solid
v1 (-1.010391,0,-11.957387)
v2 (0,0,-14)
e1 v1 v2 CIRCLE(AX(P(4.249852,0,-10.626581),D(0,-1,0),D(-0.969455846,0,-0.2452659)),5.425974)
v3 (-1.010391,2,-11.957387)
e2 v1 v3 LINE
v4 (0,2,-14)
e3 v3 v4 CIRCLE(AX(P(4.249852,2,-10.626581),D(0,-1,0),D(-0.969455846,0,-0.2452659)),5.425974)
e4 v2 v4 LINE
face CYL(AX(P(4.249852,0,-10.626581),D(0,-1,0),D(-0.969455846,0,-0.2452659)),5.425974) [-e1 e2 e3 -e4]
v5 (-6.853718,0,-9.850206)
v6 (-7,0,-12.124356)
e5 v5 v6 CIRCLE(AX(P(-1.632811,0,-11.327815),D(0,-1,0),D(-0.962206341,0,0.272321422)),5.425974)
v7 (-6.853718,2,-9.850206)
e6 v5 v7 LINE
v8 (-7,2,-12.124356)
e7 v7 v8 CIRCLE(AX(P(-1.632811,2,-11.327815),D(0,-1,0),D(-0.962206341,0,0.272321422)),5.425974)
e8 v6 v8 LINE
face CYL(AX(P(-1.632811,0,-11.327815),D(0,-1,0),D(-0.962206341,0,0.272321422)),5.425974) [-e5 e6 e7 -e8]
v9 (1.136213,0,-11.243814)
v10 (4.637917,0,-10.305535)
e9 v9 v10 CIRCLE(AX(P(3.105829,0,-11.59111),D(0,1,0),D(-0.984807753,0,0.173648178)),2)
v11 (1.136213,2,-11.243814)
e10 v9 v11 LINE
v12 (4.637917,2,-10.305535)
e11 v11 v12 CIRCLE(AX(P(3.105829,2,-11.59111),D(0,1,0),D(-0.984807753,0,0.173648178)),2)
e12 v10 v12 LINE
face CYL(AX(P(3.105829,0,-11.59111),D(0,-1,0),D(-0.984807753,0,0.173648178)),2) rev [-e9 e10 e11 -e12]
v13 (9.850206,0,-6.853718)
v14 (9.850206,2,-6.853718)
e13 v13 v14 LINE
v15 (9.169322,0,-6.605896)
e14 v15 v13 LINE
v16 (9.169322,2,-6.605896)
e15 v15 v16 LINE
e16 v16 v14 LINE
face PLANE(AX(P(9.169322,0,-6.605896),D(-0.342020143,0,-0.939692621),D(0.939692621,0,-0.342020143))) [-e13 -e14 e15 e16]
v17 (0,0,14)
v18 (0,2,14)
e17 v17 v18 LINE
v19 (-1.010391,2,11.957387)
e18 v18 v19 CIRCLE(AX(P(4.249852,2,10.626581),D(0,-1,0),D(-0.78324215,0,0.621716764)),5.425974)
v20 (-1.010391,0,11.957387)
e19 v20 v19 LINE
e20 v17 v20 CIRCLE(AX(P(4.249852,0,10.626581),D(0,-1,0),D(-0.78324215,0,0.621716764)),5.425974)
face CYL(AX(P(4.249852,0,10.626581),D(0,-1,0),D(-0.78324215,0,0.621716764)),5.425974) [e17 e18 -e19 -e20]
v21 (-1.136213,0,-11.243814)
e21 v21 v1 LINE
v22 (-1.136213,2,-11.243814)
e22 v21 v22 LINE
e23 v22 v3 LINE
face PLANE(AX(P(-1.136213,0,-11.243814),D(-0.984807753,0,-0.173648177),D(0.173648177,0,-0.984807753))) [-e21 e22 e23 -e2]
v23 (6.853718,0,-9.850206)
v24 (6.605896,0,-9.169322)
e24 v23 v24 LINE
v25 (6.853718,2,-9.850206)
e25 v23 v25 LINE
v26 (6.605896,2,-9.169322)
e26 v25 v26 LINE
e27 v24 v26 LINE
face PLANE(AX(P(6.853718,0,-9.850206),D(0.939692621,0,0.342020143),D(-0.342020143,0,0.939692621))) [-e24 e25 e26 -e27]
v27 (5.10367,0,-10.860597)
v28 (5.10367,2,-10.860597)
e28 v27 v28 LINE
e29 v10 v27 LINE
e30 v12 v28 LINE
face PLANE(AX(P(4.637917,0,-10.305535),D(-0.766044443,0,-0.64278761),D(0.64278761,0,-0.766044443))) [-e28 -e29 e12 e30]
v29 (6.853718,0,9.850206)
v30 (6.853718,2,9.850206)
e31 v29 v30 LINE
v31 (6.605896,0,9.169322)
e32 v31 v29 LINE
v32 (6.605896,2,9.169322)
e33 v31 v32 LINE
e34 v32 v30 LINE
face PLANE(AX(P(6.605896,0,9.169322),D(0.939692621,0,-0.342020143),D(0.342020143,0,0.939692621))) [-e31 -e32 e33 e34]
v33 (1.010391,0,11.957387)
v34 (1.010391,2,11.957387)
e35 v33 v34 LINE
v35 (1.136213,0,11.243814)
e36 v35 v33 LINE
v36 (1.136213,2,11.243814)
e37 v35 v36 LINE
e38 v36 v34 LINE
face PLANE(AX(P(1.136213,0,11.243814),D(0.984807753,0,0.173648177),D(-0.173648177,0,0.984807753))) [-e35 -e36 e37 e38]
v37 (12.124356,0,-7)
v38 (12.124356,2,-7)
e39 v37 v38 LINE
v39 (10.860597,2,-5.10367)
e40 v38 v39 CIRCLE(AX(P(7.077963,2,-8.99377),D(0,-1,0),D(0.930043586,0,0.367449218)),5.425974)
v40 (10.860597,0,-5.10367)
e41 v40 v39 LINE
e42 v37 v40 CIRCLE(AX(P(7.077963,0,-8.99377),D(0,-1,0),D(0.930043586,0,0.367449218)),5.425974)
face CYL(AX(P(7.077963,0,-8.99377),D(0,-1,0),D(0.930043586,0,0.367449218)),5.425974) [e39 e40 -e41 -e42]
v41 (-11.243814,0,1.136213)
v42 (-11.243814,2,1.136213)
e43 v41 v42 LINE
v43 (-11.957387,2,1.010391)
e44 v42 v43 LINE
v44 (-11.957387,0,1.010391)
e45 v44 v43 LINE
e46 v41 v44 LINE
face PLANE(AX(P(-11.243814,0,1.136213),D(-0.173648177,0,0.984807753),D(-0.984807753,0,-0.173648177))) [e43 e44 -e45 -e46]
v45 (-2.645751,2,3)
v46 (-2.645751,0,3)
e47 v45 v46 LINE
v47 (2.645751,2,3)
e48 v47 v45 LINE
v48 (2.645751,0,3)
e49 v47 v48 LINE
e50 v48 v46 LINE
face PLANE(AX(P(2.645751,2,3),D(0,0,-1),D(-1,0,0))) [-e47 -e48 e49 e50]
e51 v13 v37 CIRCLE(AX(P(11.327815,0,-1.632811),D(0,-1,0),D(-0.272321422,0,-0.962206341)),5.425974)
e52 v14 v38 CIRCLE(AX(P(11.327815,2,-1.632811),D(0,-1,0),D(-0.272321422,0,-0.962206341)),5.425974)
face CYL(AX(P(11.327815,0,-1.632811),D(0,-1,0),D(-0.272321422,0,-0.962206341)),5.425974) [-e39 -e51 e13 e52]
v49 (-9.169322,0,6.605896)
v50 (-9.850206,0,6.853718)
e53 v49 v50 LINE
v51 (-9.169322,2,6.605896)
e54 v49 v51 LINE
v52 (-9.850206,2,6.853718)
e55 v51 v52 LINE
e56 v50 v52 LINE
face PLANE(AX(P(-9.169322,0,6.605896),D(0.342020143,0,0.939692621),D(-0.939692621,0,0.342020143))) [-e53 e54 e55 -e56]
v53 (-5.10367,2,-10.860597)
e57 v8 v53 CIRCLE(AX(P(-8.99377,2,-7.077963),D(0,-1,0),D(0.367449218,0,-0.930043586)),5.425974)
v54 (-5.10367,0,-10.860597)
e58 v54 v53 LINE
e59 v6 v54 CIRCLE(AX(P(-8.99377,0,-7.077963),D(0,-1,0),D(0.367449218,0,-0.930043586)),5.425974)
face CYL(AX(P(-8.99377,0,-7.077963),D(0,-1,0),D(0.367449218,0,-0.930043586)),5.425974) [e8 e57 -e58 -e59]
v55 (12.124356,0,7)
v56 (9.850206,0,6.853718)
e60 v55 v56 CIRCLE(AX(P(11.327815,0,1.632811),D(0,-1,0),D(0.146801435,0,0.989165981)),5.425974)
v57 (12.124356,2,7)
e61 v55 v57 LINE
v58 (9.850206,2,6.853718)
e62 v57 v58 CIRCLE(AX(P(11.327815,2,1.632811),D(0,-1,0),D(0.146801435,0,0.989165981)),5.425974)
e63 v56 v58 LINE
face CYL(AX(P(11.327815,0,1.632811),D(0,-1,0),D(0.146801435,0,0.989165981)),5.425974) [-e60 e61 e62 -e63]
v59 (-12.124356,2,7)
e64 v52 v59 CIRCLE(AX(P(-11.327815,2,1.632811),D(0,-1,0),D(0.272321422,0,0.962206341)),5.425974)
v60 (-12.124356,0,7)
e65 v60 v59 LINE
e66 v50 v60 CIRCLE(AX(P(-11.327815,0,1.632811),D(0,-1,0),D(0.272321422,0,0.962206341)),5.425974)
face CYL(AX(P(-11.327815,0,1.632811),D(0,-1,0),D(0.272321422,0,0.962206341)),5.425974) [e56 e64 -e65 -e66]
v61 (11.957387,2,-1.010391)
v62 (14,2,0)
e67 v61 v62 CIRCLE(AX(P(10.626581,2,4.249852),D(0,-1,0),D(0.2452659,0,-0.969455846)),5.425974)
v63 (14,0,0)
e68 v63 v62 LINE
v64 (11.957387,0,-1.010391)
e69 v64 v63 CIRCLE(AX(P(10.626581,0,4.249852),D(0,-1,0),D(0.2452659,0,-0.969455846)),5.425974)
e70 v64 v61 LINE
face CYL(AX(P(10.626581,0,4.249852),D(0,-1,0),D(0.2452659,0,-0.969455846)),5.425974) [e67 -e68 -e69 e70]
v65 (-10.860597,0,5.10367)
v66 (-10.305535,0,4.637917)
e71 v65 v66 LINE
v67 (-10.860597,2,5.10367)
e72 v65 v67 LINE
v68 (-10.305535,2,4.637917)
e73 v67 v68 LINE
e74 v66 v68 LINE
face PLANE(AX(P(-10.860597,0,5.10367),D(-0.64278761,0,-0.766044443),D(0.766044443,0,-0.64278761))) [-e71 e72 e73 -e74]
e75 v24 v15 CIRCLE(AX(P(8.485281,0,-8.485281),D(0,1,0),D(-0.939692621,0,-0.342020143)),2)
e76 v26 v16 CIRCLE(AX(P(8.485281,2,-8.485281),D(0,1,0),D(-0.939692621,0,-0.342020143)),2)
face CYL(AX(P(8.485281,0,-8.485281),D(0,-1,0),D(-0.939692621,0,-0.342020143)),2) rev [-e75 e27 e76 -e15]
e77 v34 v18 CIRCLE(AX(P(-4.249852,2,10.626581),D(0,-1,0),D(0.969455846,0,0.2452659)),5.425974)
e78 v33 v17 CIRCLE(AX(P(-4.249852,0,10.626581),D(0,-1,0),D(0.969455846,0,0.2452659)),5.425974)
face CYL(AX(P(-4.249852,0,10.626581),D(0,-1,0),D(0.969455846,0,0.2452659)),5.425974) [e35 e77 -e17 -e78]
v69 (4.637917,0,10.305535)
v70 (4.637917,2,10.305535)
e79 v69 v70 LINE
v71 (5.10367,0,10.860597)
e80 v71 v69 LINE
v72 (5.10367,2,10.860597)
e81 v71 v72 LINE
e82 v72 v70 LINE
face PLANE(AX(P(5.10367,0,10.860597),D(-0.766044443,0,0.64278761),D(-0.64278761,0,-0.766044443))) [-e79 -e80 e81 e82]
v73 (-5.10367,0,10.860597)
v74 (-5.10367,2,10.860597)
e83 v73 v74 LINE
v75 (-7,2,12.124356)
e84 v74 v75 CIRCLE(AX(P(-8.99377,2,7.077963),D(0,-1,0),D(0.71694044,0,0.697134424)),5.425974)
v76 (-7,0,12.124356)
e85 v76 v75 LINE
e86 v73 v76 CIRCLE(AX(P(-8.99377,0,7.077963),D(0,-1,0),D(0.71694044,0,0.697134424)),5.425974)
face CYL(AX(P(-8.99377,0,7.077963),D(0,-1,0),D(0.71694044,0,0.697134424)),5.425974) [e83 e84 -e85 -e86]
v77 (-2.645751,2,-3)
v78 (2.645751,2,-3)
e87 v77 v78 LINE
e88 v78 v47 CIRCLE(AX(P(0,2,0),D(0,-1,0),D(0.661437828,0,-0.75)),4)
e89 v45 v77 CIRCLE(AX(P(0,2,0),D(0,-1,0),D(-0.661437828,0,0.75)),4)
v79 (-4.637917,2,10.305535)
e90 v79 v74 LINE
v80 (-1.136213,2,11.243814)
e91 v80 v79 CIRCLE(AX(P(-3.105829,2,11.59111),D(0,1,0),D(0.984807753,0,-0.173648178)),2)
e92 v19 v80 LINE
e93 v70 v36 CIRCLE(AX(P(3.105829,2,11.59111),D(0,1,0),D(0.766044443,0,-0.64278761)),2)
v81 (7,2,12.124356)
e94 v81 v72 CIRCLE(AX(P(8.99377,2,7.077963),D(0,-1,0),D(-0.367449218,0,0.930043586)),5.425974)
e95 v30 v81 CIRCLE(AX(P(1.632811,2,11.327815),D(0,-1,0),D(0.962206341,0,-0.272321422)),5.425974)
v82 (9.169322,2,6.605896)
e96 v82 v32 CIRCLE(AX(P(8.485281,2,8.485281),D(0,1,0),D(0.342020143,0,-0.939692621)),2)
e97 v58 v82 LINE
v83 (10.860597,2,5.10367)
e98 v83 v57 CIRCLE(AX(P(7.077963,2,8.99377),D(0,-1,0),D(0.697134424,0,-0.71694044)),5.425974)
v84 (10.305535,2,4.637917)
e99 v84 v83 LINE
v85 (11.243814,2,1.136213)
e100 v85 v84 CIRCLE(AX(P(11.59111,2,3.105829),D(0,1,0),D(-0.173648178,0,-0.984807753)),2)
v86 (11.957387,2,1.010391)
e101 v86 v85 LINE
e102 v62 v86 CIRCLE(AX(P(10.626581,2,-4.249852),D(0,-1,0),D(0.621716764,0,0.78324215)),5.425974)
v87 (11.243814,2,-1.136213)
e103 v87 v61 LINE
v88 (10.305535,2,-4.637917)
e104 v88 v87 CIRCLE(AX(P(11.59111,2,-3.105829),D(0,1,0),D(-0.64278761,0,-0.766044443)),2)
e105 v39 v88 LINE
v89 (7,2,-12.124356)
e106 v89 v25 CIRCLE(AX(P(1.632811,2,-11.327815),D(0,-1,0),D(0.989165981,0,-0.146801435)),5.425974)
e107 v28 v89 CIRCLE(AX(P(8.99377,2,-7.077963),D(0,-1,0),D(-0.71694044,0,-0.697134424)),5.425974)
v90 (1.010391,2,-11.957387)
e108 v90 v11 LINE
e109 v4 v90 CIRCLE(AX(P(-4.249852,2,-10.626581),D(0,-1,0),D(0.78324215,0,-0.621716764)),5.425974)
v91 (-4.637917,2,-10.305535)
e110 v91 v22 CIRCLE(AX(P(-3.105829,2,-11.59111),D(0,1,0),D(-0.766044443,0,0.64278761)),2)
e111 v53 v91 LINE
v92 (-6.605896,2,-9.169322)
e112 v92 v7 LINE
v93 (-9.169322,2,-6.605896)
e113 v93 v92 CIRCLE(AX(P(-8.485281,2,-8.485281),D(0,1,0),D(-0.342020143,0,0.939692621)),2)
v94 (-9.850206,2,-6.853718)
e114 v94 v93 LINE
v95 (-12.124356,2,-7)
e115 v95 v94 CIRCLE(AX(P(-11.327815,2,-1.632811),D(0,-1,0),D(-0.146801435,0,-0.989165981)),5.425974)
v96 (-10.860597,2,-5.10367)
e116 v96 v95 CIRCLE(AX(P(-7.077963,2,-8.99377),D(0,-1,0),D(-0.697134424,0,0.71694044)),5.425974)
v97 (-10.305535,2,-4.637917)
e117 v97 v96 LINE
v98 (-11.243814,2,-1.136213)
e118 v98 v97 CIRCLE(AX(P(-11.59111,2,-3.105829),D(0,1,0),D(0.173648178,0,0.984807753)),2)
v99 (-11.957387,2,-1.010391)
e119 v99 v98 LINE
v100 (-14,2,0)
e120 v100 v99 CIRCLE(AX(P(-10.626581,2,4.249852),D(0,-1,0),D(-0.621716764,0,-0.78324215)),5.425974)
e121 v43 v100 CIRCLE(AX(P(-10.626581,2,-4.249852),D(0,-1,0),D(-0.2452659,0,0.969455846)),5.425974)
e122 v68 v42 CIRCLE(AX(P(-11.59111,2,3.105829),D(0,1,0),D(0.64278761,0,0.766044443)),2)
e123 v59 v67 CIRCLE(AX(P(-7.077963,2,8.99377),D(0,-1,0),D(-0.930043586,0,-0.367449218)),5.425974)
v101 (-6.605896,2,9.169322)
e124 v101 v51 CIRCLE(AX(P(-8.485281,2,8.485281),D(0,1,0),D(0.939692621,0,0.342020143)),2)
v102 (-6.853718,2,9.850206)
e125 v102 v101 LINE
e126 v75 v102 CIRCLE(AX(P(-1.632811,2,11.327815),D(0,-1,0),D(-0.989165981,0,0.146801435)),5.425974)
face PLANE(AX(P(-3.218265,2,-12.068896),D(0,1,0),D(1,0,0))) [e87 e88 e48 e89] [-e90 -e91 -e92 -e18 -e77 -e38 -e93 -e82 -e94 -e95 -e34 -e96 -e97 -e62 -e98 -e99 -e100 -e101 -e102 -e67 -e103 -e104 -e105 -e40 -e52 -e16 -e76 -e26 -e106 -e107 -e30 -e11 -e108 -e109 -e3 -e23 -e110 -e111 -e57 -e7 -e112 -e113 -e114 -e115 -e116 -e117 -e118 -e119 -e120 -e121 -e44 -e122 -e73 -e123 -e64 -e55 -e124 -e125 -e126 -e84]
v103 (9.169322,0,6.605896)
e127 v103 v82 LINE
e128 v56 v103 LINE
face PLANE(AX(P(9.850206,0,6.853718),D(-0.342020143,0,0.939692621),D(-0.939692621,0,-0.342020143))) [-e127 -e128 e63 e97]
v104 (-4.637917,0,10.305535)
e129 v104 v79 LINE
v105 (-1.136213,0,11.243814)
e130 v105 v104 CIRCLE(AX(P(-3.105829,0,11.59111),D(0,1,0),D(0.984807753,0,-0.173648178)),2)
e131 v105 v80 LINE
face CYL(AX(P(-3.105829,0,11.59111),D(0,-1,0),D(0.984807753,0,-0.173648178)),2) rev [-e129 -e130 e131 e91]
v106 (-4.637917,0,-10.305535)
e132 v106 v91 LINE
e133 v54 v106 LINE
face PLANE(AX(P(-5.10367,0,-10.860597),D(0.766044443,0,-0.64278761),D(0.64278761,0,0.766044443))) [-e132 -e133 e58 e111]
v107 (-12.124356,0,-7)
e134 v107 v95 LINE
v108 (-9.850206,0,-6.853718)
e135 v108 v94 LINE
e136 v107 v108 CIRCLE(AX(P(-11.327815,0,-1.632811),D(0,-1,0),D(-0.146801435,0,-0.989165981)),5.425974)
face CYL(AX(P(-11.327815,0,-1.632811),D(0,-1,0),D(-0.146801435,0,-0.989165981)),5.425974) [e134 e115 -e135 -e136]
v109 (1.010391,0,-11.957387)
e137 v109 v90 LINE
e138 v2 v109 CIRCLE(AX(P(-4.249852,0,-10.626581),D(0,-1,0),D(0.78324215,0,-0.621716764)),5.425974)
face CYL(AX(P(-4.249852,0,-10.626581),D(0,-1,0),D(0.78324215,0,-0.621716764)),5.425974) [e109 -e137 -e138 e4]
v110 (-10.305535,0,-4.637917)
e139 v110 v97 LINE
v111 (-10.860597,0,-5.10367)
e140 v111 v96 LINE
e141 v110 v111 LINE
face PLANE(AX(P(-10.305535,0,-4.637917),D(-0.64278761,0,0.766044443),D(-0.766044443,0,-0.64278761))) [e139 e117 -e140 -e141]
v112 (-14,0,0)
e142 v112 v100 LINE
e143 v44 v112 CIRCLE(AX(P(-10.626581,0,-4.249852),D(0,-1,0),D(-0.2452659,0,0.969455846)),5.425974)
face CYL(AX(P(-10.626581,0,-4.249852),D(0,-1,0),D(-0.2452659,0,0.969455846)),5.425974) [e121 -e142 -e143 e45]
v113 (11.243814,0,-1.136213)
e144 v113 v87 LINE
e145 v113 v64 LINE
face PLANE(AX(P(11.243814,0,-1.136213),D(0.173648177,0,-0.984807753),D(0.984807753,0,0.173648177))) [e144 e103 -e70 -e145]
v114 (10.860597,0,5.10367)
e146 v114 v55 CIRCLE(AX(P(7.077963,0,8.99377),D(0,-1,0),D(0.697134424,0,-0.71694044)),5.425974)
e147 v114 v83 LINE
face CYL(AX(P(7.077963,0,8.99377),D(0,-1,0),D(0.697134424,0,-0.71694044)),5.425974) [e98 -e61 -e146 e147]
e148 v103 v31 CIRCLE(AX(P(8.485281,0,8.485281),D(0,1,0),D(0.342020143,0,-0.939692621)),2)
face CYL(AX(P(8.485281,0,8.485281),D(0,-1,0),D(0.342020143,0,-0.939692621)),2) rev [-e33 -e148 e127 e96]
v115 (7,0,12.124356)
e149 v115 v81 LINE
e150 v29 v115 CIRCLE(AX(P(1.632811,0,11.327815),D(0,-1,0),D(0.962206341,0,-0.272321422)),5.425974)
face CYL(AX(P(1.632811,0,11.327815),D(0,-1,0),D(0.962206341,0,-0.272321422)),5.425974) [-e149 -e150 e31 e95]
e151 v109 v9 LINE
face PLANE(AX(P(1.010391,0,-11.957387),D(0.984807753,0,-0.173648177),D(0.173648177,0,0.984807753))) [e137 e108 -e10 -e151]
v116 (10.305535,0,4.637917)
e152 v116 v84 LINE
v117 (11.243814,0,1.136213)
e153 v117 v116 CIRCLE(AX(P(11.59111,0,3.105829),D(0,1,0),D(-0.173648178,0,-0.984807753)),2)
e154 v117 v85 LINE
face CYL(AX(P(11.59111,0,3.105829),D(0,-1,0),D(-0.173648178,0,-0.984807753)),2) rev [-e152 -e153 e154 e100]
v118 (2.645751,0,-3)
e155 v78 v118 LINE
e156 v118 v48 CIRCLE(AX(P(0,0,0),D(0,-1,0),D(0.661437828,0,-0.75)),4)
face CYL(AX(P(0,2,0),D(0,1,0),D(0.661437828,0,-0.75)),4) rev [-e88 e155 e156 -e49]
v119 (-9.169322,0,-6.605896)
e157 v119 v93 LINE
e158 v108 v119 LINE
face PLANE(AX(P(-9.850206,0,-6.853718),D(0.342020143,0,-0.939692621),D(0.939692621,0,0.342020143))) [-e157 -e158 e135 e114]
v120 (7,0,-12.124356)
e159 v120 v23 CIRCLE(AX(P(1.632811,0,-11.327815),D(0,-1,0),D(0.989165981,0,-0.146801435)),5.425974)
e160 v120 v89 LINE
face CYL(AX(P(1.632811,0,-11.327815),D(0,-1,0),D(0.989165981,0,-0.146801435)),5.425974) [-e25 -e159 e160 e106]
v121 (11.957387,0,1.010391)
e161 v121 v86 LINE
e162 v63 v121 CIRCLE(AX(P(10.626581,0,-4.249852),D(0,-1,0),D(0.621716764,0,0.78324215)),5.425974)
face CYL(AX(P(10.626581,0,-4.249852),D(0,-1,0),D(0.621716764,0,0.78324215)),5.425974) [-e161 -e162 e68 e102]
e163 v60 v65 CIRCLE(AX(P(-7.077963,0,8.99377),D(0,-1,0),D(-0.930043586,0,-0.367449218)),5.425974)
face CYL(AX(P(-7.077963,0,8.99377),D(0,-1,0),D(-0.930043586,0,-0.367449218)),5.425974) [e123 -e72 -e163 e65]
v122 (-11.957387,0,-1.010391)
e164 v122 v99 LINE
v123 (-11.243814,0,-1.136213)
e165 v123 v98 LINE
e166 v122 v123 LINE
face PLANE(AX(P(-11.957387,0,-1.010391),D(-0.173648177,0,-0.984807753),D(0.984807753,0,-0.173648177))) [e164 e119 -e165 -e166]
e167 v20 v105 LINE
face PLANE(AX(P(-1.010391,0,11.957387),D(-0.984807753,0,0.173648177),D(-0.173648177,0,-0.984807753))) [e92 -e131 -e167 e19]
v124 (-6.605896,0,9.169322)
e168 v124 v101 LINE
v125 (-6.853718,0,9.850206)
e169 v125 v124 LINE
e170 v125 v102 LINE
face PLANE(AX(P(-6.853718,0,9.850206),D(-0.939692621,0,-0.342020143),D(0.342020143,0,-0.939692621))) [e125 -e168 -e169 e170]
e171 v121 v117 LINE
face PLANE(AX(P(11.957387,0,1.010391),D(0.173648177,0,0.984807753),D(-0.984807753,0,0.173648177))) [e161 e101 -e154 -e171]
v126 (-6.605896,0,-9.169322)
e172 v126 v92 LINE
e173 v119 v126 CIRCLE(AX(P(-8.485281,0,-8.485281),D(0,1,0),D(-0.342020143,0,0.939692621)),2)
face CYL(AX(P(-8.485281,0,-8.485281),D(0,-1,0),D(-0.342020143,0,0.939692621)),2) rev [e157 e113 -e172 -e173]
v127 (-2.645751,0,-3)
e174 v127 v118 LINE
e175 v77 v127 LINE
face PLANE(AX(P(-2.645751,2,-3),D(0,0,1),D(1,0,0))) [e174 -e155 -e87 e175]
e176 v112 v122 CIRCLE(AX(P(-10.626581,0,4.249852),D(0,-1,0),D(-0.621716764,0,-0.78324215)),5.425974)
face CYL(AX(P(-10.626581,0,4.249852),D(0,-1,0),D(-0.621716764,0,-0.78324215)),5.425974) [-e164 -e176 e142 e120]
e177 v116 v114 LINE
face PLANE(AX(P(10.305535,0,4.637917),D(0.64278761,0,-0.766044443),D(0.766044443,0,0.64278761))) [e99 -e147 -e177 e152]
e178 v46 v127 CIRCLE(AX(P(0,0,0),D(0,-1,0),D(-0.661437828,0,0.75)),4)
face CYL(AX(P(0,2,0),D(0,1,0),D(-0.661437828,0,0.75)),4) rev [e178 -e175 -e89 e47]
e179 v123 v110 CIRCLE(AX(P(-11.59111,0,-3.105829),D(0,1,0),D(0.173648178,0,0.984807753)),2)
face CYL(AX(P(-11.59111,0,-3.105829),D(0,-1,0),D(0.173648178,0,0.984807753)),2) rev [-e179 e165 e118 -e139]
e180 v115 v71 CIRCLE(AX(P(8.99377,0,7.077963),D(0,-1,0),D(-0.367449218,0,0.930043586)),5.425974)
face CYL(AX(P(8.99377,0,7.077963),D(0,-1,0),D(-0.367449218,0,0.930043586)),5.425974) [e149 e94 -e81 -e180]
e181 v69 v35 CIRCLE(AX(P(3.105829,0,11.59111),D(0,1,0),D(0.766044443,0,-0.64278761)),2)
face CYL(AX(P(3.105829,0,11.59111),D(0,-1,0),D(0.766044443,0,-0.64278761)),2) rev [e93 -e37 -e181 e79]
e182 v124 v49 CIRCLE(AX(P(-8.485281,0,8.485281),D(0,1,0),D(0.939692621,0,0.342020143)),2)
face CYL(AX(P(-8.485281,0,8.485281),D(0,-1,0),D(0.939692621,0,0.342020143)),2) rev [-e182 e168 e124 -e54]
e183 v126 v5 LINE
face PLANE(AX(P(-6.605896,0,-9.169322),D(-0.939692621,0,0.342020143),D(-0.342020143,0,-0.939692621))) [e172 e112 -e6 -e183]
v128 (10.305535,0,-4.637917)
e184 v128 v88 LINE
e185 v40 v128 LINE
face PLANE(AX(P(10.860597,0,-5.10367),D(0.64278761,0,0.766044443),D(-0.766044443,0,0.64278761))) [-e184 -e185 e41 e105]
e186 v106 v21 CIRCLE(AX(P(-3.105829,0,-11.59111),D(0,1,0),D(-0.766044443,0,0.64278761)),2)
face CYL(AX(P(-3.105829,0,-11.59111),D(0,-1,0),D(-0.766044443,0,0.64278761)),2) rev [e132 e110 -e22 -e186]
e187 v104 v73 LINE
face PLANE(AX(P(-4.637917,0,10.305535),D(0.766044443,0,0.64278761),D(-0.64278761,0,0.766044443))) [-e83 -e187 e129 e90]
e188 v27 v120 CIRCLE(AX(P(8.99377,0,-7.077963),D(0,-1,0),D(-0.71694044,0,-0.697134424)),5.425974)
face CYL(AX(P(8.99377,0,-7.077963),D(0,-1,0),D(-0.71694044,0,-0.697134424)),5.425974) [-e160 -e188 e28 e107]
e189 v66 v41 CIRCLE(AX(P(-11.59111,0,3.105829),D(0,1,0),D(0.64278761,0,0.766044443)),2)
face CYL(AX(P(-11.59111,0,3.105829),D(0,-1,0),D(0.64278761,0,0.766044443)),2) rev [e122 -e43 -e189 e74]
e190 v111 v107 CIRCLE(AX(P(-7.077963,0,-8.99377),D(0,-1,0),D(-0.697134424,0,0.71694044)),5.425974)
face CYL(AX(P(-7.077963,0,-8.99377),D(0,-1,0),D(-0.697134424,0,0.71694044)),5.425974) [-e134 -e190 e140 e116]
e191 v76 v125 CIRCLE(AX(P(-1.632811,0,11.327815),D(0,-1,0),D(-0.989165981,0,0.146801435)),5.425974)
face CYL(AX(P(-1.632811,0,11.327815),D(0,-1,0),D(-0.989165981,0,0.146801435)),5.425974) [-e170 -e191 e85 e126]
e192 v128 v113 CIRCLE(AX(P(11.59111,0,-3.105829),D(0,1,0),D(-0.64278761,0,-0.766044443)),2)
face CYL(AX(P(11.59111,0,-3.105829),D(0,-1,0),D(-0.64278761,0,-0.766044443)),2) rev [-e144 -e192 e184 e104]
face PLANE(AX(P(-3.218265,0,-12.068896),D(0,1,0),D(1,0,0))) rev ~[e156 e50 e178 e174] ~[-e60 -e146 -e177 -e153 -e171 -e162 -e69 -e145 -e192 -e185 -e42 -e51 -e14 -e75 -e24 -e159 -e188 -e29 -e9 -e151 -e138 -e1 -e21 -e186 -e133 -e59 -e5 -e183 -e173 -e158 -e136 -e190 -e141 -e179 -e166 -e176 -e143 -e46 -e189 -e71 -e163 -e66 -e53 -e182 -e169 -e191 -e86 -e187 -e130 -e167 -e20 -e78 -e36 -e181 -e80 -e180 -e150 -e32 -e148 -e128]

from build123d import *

# Parameters (mm, degrees)
SKETCH1_R           = 10
BOSS_EXTRUDE3_DEPTH = 2
CUT_EXTRUDE4_START  = -2
CUT_EXTRUDE4_DEPTH  = 2
CUT_EXTRUDE5_DEPTH  = 2
CUT_EXTRUDE7_START  = -2
CUT_EXTRUDE7_DEPTH  = 2


with BuildPart() as part:
    # Sketch1 → Boss-Extrude3 (new body)
    # profile 1 of 3: a face of its own
    with BuildSketch(Plane(origin=(0, 0, 0), x_dir=(1, 0, 0), z_dir=(0, 1, 0))):
        with BuildLine():
            ThreePointArc((-2.576546391, 9.66237076), (-3.696714803, 9.688501423), (-4.6270391, 10.312966622))
            Line((-4.6270391, 10.312966622), (-5.089759275, 10.867122458))
            add(Edge.make_bspline(
                [(-5.089759275, 10.867122458), (-6.64901802, 12.325915574), (-6.970753087, 12.141194398)],
                knots=[0, 0, 0, 1, 1, 1], degree=2, weights=[1, 1.687053572, 1]))
            ThreePointArc((-6.970753087, 12.141194398), (-7.014608214, -12.115909855), (14, 0))
            ThreePointArc((14, 0), (9.899494937, 9.899494937), (0, 14))
            add(Edge.make_bspline(
                [(-0.996876474, 11.958521535), (-0.370992408, 14), (0, 14)],
                knots=[0, 0, 0, 1, 1, 1], degree=2, weights=[1, 1.687053572, 1]))
            Line((-0.996876474, 11.958521535), (-1.122240194, 11.247548548))
            ThreePointArc((-1.122240194, 11.247548548), (-1.618115564, 10.242776114), (-2.576546391, 9.66237076))
        make_face()
        with BuildLine():
            ThreePointArc((10, 0), (-6.092394278, -7.9298633), (-2.576546391, 9.66237076))
            ThreePointArc((-2.576546391, 9.66237076), (6.092394278, 7.9298633), (10, 0))
        make_face(mode=Mode.SUBTRACT)
    # profile 2 of 3: a face of its own
    with BuildSketch(Plane(origin=(0, 0, 0), x_dir=(1, 0, 0), z_dir=(0, 1, 0))):
        Circle(SKETCH1_R)
    # profile 3 of 3: a face of its own
    with BuildSketch(Plane(origin=(0, 0, 0), x_dir=(1, 0, 0), z_dir=(0, 1, 0))):
        with BuildLine():
            Line((-5.089759275, 10.867122458), (-4.6270391, 10.312966622))
            ThreePointArc((-4.6270391, 10.312966622), (-3.696714803, 9.688501423), (-2.576546391, 9.66237076))
            ThreePointArc((-2.576546391, 9.66237076), (-1.618115564, 10.242776114), (-1.122240194, 11.247548548))
            Line((-1.122240194, 11.247548548), (-0.996876474, 11.958521535))
            add(Edge.make_bspline(
                [(-0.996876474, 11.958521535), (-0.370992408, 14), (0, 14)],
                knots=[0, 0, 0, 1, 1, 1], degree=2, weights=[1, 1.687053572, 1]))
            ThreePointArc((0, 14), (-3.607164983, 13.527319054), (-6.970753087, 12.141194398))
            add(Edge.make_bspline(
                [(-5.089759275, 10.867122458), (-6.64901802, 12.325915574), (-6.970753087, 12.141194398)],
                knots=[0, 0, 0, 1, 1, 1], degree=2, weights=[1, 1.687053572, 1]))
        make_face()
    extrude(amount=BOSS_EXTRUDE3_DEPTH)

    # Sketch2 → Cut-Extrude4 (cut)
    with BuildSketch(Plane(origin=(0, 2, 0), x_dir=(1, 0, 0), z_dir=(0, 1, 0)).offset(CUT_EXTRUDE4_START)):
        with BuildLine():
            Line((-1.136213035, 11.24381356), (-1.010390736, 11.95738728))
            ThreePointArc((-1.010390736, 11.95738728), (-0.613638742, 13.032335811), (0, 14))
            ThreePointArc((0, 14), (-3.623466631, 13.522961568), (-7, 12.124355653))
            ThreePointArc((-7, 12.124355653), (-5.984741166, 11.593153253), (-5.103669595, 10.860596515))
            Line((-5.103669595, 10.860596515), (-4.637917427, 10.305534696))
            ThreePointArc((-4.637917427, 10.305534696), (-2.588190451, 9.659258263), (-1.136213035, 11.24381356))
        make_face()
    extrude(amount=CUT_EXTRUDE4_DEPTH, mode=Mode.SUBTRACT)

    # Sketch3 → Cut-Extrude5 (cut)
    with BuildSketch(Plane(origin=(0, 2, 0), x_dir=(1, 0, 0), z_dir=(0, 1, 0))):
        with BuildLine():
            Line((-2.645751311, 3), (2.645751311, 3))
            ThreePointArc((2.645751311, 3), (4, 0), (2.645751311, -3))
            Line((2.645751311, -3), (-2.645751311, -3))
            ThreePointArc((-2.645751311, -3), (-4, 0), (-2.645751311, 3))
        make_face()
    extrude(amount=-CUT_EXTRUDE5_DEPTH, mode=Mode.SUBTRACT)

    # Sketch2<5> → Cut-Extrude7 (cut)
    with BuildSketch(Plane(origin=(0, 2, 0), x_dir=(1, 0, 0), z_dir=(0, 1, 0)).offset(CUT_EXTRUDE7_START)):
        with BuildLine():
            ThreePointArc((7, 12.124355653), (3.623466631, 13.522961568), (0, 14))
            ThreePointArc((0, 14), (0.613638742, 13.032335811), (1.010390736, 11.95738728))
            Line((1.010390736, 11.95738728), (1.136213035, 11.24381356))
            ThreePointArc((1.136213035, 11.24381356), (2.588190451, 9.659258263), (4.637917427, 10.305534696))
            Line((4.637917427, 10.305534696), (5.103669595, 10.860596515))
            ThreePointArc((5.103669595, 10.860596515), (5.984741166, 11.593153253), (7, 12.124355653))
        make_face()
        with BuildLine():
            ThreePointArc((12.124355653, 7), (9.899494937, 9.899494937), (7, 12.124355653))
            ThreePointArc((7, 12.124355653), (7.047594644, 10.979514512), (6.853717685, 9.850205779))
            Line((6.853717685, 9.850205779), (6.605896133, 9.169321661))
            ThreePointArc((6.605896133, 9.169321661), (7.071067812, 7.071067812), (9.169321661, 6.605896133))
            Line((9.169321661, 6.605896133), (9.850205779, 6.853717685))
            ThreePointArc((9.850205779, 6.853717685), (10.979514512, 7.047594644), (12.124355653, 7))
        make_face()
        with BuildLine():
            ThreePointArc((14, 0), (13.522961568, 3.623466631), (12.124355653, 7))
            ThreePointArc((12.124355653, 7), (11.593153253, 5.984741166), (10.860596515, 5.103669595))
            Line((10.860596515, 5.103669595), (10.305534696, 4.637917427))
            ThreePointArc((10.305534696, 4.637917427), (9.659258263, 2.588190451), (11.24381356, 1.136213035))
            Line((11.24381356, 1.136213035), (11.95738728, 1.010390736))
            ThreePointArc((11.95738728, 1.010390736), (13.032335811, 0.613638742), (14, 0))
        make_face()
        with BuildLine():
            ThreePointArc((-6.853717685, 9.850205779), (-7.047594644, 10.979514512), (-7, 12.124355653))
            ThreePointArc((-7, 12.124355653), (-9.899494937, 9.899494937), (-12.124355653, 7))
            ThreePointArc((-12.124355653, 7), (-10.979514512, 7.047594644), (-9.850205779, 6.853717685))
            Line((-9.850205779, 6.853717685), (-9.169321661, 6.605896133))
            ThreePointArc((-9.169321661, 6.605896133), (-7.071067812, 7.071067812), (-6.605896133, 9.169321661))
            Line((-6.605896133, 9.169321661), (-6.853717685, 9.850205779))
        make_face()
        with BuildLine():
            ThreePointArc((12.124355653, -7), (13.522961568, -3.623466631), (14, 0))
            ThreePointArc((14, 0), (13.032335811, -0.613638742), (11.95738728, -1.010390736))
            Line((11.95738728, -1.010390736), (11.24381356, -1.136213035))
            ThreePointArc((11.24381356, -1.136213035), (9.659258263, -2.588190451), (10.305534696, -4.637917427))
            Line((10.305534696, -4.637917427), (10.860596515, -5.103669595))
            ThreePointArc((10.860596515, -5.103669595), (11.593153253, -5.984741166), (12.124355653, -7))
        make_face()
        with BuildLine():
            ThreePointArc((-10.860596515, 5.103669595), (-11.593153253, 5.984741166), (-12.124355653, 7))
            ThreePointArc((-12.124355653, 7), (-13.522961568, 3.623466631), (-14, 0))
            ThreePointArc((-14, 0), (-13.032335811, 0.613638742), (-11.95738728, 1.010390736))
            Line((-11.95738728, 1.010390736), (-11.24381356, 1.136213035))
            ThreePointArc((-11.24381356, 1.136213035), (-9.659258263, 2.588190451), (-10.305534696, 4.637917427))
            Line((-10.305534696, 4.637917427), (-10.860596515, 5.103669595))
        make_face()
        with BuildLine():
            ThreePointArc((7, -12.124355653), (9.899494937, -9.899494937), (12.124355653, -7))
            ThreePointArc((12.124355653, -7), (10.979514512, -7.047594644), (9.850205779, -6.853717685))
            Line((9.850205779, -6.853717685), (9.169321661, -6.605896133))
            ThreePointArc((9.169321661, -6.605896133), (7.071067812, -7.071067812), (6.605896133, -9.169321661))
            Line((6.605896133, -9.169321661), (6.853717685, -9.850205779))
            ThreePointArc((6.853717685, -9.850205779), (7.047594644, -10.979514512), (7, -12.124355653))
        make_face()
        with BuildLine():
            ThreePointArc((-11.95738728, -1.010390736), (-13.032335811, -0.613638742), (-14, 0))
            ThreePointArc((-14, 0), (-13.522961568, -3.623466631), (-12.124355653, -7))
            ThreePointArc((-12.124355653, -7), (-11.593153253, -5.984741166), (-10.860596515, -5.103669595))
            Line((-10.860596515, -5.103669595), (-10.305534696, -4.637917427))
            ThreePointArc((-10.305534696, -4.637917427), (-9.659258263, -2.588190451), (-11.24381356, -1.136213035))
            Line((-11.24381356, -1.136213035), (-11.95738728, -1.010390736))
        make_face()
        with BuildLine():
            ThreePointArc((0, -14), (3.623466631, -13.522961568), (7, -12.124355653))
            ThreePointArc((7, -12.124355653), (5.984741166, -11.593153253), (5.103669595, -10.860596515))
            Line((5.103669595, -10.860596515), (4.637917427, -10.305534696))
            ThreePointArc((4.637917427, -10.305534696), (2.588190451, -9.659258263), (1.136213035, -11.24381356))
            Line((1.136213035, -11.24381356), (1.010390736, -11.95738728))
            ThreePointArc((1.010390736, -11.95738728), (0.613638742, -13.032335811), (0, -14))
        make_face()
        with BuildLine():
            ThreePointArc((-9.850205779, -6.853717685), (-10.979514512, -7.047594644), (-12.124355653, -7))
            ThreePointArc((-12.124355653, -7), (-9.899494937, -9.899494937), (-7, -12.124355653))
            ThreePointArc((-7, -12.124355653), (-7.047594644, -10.979514512), (-6.853717685, -9.850205779))
            Line((-6.853717685, -9.850205779), (-6.605896133, -9.169321661))
            ThreePointArc((-6.605896133, -9.169321661), (-7.071067812, -7.071067812), (-9.169321661, -6.605896133))
            Line((-9.169321661, -6.605896133), (-9.850205779, -6.853717685))
        make_face()
        with BuildLine():
            ThreePointArc((-7, -12.124355653), (-3.623466631, -13.522961568), (0, -14))
            ThreePointArc((0, -14), (-0.613638742, -13.032335811), (-1.010390736, -11.95738728))
            Line((-1.010390736, -11.95738728), (-1.136213035, -11.24381356))
            ThreePointArc((-1.136213035, -11.24381356), (-2.588190451, -9.659258263), (-4.637917427, -10.305534696))
            Line((-4.637917427, -10.305534696), (-5.103669595, -10.860596515))
            ThreePointArc((-5.103669595, -10.860596515), (-5.984741166, -11.593153253), (-7, -12.124355653))
        make_face()
    extrude(amount=CUT_EXTRUDE7_DEPTH, mode=Mode.SUBTRACT)


solid = part.part
